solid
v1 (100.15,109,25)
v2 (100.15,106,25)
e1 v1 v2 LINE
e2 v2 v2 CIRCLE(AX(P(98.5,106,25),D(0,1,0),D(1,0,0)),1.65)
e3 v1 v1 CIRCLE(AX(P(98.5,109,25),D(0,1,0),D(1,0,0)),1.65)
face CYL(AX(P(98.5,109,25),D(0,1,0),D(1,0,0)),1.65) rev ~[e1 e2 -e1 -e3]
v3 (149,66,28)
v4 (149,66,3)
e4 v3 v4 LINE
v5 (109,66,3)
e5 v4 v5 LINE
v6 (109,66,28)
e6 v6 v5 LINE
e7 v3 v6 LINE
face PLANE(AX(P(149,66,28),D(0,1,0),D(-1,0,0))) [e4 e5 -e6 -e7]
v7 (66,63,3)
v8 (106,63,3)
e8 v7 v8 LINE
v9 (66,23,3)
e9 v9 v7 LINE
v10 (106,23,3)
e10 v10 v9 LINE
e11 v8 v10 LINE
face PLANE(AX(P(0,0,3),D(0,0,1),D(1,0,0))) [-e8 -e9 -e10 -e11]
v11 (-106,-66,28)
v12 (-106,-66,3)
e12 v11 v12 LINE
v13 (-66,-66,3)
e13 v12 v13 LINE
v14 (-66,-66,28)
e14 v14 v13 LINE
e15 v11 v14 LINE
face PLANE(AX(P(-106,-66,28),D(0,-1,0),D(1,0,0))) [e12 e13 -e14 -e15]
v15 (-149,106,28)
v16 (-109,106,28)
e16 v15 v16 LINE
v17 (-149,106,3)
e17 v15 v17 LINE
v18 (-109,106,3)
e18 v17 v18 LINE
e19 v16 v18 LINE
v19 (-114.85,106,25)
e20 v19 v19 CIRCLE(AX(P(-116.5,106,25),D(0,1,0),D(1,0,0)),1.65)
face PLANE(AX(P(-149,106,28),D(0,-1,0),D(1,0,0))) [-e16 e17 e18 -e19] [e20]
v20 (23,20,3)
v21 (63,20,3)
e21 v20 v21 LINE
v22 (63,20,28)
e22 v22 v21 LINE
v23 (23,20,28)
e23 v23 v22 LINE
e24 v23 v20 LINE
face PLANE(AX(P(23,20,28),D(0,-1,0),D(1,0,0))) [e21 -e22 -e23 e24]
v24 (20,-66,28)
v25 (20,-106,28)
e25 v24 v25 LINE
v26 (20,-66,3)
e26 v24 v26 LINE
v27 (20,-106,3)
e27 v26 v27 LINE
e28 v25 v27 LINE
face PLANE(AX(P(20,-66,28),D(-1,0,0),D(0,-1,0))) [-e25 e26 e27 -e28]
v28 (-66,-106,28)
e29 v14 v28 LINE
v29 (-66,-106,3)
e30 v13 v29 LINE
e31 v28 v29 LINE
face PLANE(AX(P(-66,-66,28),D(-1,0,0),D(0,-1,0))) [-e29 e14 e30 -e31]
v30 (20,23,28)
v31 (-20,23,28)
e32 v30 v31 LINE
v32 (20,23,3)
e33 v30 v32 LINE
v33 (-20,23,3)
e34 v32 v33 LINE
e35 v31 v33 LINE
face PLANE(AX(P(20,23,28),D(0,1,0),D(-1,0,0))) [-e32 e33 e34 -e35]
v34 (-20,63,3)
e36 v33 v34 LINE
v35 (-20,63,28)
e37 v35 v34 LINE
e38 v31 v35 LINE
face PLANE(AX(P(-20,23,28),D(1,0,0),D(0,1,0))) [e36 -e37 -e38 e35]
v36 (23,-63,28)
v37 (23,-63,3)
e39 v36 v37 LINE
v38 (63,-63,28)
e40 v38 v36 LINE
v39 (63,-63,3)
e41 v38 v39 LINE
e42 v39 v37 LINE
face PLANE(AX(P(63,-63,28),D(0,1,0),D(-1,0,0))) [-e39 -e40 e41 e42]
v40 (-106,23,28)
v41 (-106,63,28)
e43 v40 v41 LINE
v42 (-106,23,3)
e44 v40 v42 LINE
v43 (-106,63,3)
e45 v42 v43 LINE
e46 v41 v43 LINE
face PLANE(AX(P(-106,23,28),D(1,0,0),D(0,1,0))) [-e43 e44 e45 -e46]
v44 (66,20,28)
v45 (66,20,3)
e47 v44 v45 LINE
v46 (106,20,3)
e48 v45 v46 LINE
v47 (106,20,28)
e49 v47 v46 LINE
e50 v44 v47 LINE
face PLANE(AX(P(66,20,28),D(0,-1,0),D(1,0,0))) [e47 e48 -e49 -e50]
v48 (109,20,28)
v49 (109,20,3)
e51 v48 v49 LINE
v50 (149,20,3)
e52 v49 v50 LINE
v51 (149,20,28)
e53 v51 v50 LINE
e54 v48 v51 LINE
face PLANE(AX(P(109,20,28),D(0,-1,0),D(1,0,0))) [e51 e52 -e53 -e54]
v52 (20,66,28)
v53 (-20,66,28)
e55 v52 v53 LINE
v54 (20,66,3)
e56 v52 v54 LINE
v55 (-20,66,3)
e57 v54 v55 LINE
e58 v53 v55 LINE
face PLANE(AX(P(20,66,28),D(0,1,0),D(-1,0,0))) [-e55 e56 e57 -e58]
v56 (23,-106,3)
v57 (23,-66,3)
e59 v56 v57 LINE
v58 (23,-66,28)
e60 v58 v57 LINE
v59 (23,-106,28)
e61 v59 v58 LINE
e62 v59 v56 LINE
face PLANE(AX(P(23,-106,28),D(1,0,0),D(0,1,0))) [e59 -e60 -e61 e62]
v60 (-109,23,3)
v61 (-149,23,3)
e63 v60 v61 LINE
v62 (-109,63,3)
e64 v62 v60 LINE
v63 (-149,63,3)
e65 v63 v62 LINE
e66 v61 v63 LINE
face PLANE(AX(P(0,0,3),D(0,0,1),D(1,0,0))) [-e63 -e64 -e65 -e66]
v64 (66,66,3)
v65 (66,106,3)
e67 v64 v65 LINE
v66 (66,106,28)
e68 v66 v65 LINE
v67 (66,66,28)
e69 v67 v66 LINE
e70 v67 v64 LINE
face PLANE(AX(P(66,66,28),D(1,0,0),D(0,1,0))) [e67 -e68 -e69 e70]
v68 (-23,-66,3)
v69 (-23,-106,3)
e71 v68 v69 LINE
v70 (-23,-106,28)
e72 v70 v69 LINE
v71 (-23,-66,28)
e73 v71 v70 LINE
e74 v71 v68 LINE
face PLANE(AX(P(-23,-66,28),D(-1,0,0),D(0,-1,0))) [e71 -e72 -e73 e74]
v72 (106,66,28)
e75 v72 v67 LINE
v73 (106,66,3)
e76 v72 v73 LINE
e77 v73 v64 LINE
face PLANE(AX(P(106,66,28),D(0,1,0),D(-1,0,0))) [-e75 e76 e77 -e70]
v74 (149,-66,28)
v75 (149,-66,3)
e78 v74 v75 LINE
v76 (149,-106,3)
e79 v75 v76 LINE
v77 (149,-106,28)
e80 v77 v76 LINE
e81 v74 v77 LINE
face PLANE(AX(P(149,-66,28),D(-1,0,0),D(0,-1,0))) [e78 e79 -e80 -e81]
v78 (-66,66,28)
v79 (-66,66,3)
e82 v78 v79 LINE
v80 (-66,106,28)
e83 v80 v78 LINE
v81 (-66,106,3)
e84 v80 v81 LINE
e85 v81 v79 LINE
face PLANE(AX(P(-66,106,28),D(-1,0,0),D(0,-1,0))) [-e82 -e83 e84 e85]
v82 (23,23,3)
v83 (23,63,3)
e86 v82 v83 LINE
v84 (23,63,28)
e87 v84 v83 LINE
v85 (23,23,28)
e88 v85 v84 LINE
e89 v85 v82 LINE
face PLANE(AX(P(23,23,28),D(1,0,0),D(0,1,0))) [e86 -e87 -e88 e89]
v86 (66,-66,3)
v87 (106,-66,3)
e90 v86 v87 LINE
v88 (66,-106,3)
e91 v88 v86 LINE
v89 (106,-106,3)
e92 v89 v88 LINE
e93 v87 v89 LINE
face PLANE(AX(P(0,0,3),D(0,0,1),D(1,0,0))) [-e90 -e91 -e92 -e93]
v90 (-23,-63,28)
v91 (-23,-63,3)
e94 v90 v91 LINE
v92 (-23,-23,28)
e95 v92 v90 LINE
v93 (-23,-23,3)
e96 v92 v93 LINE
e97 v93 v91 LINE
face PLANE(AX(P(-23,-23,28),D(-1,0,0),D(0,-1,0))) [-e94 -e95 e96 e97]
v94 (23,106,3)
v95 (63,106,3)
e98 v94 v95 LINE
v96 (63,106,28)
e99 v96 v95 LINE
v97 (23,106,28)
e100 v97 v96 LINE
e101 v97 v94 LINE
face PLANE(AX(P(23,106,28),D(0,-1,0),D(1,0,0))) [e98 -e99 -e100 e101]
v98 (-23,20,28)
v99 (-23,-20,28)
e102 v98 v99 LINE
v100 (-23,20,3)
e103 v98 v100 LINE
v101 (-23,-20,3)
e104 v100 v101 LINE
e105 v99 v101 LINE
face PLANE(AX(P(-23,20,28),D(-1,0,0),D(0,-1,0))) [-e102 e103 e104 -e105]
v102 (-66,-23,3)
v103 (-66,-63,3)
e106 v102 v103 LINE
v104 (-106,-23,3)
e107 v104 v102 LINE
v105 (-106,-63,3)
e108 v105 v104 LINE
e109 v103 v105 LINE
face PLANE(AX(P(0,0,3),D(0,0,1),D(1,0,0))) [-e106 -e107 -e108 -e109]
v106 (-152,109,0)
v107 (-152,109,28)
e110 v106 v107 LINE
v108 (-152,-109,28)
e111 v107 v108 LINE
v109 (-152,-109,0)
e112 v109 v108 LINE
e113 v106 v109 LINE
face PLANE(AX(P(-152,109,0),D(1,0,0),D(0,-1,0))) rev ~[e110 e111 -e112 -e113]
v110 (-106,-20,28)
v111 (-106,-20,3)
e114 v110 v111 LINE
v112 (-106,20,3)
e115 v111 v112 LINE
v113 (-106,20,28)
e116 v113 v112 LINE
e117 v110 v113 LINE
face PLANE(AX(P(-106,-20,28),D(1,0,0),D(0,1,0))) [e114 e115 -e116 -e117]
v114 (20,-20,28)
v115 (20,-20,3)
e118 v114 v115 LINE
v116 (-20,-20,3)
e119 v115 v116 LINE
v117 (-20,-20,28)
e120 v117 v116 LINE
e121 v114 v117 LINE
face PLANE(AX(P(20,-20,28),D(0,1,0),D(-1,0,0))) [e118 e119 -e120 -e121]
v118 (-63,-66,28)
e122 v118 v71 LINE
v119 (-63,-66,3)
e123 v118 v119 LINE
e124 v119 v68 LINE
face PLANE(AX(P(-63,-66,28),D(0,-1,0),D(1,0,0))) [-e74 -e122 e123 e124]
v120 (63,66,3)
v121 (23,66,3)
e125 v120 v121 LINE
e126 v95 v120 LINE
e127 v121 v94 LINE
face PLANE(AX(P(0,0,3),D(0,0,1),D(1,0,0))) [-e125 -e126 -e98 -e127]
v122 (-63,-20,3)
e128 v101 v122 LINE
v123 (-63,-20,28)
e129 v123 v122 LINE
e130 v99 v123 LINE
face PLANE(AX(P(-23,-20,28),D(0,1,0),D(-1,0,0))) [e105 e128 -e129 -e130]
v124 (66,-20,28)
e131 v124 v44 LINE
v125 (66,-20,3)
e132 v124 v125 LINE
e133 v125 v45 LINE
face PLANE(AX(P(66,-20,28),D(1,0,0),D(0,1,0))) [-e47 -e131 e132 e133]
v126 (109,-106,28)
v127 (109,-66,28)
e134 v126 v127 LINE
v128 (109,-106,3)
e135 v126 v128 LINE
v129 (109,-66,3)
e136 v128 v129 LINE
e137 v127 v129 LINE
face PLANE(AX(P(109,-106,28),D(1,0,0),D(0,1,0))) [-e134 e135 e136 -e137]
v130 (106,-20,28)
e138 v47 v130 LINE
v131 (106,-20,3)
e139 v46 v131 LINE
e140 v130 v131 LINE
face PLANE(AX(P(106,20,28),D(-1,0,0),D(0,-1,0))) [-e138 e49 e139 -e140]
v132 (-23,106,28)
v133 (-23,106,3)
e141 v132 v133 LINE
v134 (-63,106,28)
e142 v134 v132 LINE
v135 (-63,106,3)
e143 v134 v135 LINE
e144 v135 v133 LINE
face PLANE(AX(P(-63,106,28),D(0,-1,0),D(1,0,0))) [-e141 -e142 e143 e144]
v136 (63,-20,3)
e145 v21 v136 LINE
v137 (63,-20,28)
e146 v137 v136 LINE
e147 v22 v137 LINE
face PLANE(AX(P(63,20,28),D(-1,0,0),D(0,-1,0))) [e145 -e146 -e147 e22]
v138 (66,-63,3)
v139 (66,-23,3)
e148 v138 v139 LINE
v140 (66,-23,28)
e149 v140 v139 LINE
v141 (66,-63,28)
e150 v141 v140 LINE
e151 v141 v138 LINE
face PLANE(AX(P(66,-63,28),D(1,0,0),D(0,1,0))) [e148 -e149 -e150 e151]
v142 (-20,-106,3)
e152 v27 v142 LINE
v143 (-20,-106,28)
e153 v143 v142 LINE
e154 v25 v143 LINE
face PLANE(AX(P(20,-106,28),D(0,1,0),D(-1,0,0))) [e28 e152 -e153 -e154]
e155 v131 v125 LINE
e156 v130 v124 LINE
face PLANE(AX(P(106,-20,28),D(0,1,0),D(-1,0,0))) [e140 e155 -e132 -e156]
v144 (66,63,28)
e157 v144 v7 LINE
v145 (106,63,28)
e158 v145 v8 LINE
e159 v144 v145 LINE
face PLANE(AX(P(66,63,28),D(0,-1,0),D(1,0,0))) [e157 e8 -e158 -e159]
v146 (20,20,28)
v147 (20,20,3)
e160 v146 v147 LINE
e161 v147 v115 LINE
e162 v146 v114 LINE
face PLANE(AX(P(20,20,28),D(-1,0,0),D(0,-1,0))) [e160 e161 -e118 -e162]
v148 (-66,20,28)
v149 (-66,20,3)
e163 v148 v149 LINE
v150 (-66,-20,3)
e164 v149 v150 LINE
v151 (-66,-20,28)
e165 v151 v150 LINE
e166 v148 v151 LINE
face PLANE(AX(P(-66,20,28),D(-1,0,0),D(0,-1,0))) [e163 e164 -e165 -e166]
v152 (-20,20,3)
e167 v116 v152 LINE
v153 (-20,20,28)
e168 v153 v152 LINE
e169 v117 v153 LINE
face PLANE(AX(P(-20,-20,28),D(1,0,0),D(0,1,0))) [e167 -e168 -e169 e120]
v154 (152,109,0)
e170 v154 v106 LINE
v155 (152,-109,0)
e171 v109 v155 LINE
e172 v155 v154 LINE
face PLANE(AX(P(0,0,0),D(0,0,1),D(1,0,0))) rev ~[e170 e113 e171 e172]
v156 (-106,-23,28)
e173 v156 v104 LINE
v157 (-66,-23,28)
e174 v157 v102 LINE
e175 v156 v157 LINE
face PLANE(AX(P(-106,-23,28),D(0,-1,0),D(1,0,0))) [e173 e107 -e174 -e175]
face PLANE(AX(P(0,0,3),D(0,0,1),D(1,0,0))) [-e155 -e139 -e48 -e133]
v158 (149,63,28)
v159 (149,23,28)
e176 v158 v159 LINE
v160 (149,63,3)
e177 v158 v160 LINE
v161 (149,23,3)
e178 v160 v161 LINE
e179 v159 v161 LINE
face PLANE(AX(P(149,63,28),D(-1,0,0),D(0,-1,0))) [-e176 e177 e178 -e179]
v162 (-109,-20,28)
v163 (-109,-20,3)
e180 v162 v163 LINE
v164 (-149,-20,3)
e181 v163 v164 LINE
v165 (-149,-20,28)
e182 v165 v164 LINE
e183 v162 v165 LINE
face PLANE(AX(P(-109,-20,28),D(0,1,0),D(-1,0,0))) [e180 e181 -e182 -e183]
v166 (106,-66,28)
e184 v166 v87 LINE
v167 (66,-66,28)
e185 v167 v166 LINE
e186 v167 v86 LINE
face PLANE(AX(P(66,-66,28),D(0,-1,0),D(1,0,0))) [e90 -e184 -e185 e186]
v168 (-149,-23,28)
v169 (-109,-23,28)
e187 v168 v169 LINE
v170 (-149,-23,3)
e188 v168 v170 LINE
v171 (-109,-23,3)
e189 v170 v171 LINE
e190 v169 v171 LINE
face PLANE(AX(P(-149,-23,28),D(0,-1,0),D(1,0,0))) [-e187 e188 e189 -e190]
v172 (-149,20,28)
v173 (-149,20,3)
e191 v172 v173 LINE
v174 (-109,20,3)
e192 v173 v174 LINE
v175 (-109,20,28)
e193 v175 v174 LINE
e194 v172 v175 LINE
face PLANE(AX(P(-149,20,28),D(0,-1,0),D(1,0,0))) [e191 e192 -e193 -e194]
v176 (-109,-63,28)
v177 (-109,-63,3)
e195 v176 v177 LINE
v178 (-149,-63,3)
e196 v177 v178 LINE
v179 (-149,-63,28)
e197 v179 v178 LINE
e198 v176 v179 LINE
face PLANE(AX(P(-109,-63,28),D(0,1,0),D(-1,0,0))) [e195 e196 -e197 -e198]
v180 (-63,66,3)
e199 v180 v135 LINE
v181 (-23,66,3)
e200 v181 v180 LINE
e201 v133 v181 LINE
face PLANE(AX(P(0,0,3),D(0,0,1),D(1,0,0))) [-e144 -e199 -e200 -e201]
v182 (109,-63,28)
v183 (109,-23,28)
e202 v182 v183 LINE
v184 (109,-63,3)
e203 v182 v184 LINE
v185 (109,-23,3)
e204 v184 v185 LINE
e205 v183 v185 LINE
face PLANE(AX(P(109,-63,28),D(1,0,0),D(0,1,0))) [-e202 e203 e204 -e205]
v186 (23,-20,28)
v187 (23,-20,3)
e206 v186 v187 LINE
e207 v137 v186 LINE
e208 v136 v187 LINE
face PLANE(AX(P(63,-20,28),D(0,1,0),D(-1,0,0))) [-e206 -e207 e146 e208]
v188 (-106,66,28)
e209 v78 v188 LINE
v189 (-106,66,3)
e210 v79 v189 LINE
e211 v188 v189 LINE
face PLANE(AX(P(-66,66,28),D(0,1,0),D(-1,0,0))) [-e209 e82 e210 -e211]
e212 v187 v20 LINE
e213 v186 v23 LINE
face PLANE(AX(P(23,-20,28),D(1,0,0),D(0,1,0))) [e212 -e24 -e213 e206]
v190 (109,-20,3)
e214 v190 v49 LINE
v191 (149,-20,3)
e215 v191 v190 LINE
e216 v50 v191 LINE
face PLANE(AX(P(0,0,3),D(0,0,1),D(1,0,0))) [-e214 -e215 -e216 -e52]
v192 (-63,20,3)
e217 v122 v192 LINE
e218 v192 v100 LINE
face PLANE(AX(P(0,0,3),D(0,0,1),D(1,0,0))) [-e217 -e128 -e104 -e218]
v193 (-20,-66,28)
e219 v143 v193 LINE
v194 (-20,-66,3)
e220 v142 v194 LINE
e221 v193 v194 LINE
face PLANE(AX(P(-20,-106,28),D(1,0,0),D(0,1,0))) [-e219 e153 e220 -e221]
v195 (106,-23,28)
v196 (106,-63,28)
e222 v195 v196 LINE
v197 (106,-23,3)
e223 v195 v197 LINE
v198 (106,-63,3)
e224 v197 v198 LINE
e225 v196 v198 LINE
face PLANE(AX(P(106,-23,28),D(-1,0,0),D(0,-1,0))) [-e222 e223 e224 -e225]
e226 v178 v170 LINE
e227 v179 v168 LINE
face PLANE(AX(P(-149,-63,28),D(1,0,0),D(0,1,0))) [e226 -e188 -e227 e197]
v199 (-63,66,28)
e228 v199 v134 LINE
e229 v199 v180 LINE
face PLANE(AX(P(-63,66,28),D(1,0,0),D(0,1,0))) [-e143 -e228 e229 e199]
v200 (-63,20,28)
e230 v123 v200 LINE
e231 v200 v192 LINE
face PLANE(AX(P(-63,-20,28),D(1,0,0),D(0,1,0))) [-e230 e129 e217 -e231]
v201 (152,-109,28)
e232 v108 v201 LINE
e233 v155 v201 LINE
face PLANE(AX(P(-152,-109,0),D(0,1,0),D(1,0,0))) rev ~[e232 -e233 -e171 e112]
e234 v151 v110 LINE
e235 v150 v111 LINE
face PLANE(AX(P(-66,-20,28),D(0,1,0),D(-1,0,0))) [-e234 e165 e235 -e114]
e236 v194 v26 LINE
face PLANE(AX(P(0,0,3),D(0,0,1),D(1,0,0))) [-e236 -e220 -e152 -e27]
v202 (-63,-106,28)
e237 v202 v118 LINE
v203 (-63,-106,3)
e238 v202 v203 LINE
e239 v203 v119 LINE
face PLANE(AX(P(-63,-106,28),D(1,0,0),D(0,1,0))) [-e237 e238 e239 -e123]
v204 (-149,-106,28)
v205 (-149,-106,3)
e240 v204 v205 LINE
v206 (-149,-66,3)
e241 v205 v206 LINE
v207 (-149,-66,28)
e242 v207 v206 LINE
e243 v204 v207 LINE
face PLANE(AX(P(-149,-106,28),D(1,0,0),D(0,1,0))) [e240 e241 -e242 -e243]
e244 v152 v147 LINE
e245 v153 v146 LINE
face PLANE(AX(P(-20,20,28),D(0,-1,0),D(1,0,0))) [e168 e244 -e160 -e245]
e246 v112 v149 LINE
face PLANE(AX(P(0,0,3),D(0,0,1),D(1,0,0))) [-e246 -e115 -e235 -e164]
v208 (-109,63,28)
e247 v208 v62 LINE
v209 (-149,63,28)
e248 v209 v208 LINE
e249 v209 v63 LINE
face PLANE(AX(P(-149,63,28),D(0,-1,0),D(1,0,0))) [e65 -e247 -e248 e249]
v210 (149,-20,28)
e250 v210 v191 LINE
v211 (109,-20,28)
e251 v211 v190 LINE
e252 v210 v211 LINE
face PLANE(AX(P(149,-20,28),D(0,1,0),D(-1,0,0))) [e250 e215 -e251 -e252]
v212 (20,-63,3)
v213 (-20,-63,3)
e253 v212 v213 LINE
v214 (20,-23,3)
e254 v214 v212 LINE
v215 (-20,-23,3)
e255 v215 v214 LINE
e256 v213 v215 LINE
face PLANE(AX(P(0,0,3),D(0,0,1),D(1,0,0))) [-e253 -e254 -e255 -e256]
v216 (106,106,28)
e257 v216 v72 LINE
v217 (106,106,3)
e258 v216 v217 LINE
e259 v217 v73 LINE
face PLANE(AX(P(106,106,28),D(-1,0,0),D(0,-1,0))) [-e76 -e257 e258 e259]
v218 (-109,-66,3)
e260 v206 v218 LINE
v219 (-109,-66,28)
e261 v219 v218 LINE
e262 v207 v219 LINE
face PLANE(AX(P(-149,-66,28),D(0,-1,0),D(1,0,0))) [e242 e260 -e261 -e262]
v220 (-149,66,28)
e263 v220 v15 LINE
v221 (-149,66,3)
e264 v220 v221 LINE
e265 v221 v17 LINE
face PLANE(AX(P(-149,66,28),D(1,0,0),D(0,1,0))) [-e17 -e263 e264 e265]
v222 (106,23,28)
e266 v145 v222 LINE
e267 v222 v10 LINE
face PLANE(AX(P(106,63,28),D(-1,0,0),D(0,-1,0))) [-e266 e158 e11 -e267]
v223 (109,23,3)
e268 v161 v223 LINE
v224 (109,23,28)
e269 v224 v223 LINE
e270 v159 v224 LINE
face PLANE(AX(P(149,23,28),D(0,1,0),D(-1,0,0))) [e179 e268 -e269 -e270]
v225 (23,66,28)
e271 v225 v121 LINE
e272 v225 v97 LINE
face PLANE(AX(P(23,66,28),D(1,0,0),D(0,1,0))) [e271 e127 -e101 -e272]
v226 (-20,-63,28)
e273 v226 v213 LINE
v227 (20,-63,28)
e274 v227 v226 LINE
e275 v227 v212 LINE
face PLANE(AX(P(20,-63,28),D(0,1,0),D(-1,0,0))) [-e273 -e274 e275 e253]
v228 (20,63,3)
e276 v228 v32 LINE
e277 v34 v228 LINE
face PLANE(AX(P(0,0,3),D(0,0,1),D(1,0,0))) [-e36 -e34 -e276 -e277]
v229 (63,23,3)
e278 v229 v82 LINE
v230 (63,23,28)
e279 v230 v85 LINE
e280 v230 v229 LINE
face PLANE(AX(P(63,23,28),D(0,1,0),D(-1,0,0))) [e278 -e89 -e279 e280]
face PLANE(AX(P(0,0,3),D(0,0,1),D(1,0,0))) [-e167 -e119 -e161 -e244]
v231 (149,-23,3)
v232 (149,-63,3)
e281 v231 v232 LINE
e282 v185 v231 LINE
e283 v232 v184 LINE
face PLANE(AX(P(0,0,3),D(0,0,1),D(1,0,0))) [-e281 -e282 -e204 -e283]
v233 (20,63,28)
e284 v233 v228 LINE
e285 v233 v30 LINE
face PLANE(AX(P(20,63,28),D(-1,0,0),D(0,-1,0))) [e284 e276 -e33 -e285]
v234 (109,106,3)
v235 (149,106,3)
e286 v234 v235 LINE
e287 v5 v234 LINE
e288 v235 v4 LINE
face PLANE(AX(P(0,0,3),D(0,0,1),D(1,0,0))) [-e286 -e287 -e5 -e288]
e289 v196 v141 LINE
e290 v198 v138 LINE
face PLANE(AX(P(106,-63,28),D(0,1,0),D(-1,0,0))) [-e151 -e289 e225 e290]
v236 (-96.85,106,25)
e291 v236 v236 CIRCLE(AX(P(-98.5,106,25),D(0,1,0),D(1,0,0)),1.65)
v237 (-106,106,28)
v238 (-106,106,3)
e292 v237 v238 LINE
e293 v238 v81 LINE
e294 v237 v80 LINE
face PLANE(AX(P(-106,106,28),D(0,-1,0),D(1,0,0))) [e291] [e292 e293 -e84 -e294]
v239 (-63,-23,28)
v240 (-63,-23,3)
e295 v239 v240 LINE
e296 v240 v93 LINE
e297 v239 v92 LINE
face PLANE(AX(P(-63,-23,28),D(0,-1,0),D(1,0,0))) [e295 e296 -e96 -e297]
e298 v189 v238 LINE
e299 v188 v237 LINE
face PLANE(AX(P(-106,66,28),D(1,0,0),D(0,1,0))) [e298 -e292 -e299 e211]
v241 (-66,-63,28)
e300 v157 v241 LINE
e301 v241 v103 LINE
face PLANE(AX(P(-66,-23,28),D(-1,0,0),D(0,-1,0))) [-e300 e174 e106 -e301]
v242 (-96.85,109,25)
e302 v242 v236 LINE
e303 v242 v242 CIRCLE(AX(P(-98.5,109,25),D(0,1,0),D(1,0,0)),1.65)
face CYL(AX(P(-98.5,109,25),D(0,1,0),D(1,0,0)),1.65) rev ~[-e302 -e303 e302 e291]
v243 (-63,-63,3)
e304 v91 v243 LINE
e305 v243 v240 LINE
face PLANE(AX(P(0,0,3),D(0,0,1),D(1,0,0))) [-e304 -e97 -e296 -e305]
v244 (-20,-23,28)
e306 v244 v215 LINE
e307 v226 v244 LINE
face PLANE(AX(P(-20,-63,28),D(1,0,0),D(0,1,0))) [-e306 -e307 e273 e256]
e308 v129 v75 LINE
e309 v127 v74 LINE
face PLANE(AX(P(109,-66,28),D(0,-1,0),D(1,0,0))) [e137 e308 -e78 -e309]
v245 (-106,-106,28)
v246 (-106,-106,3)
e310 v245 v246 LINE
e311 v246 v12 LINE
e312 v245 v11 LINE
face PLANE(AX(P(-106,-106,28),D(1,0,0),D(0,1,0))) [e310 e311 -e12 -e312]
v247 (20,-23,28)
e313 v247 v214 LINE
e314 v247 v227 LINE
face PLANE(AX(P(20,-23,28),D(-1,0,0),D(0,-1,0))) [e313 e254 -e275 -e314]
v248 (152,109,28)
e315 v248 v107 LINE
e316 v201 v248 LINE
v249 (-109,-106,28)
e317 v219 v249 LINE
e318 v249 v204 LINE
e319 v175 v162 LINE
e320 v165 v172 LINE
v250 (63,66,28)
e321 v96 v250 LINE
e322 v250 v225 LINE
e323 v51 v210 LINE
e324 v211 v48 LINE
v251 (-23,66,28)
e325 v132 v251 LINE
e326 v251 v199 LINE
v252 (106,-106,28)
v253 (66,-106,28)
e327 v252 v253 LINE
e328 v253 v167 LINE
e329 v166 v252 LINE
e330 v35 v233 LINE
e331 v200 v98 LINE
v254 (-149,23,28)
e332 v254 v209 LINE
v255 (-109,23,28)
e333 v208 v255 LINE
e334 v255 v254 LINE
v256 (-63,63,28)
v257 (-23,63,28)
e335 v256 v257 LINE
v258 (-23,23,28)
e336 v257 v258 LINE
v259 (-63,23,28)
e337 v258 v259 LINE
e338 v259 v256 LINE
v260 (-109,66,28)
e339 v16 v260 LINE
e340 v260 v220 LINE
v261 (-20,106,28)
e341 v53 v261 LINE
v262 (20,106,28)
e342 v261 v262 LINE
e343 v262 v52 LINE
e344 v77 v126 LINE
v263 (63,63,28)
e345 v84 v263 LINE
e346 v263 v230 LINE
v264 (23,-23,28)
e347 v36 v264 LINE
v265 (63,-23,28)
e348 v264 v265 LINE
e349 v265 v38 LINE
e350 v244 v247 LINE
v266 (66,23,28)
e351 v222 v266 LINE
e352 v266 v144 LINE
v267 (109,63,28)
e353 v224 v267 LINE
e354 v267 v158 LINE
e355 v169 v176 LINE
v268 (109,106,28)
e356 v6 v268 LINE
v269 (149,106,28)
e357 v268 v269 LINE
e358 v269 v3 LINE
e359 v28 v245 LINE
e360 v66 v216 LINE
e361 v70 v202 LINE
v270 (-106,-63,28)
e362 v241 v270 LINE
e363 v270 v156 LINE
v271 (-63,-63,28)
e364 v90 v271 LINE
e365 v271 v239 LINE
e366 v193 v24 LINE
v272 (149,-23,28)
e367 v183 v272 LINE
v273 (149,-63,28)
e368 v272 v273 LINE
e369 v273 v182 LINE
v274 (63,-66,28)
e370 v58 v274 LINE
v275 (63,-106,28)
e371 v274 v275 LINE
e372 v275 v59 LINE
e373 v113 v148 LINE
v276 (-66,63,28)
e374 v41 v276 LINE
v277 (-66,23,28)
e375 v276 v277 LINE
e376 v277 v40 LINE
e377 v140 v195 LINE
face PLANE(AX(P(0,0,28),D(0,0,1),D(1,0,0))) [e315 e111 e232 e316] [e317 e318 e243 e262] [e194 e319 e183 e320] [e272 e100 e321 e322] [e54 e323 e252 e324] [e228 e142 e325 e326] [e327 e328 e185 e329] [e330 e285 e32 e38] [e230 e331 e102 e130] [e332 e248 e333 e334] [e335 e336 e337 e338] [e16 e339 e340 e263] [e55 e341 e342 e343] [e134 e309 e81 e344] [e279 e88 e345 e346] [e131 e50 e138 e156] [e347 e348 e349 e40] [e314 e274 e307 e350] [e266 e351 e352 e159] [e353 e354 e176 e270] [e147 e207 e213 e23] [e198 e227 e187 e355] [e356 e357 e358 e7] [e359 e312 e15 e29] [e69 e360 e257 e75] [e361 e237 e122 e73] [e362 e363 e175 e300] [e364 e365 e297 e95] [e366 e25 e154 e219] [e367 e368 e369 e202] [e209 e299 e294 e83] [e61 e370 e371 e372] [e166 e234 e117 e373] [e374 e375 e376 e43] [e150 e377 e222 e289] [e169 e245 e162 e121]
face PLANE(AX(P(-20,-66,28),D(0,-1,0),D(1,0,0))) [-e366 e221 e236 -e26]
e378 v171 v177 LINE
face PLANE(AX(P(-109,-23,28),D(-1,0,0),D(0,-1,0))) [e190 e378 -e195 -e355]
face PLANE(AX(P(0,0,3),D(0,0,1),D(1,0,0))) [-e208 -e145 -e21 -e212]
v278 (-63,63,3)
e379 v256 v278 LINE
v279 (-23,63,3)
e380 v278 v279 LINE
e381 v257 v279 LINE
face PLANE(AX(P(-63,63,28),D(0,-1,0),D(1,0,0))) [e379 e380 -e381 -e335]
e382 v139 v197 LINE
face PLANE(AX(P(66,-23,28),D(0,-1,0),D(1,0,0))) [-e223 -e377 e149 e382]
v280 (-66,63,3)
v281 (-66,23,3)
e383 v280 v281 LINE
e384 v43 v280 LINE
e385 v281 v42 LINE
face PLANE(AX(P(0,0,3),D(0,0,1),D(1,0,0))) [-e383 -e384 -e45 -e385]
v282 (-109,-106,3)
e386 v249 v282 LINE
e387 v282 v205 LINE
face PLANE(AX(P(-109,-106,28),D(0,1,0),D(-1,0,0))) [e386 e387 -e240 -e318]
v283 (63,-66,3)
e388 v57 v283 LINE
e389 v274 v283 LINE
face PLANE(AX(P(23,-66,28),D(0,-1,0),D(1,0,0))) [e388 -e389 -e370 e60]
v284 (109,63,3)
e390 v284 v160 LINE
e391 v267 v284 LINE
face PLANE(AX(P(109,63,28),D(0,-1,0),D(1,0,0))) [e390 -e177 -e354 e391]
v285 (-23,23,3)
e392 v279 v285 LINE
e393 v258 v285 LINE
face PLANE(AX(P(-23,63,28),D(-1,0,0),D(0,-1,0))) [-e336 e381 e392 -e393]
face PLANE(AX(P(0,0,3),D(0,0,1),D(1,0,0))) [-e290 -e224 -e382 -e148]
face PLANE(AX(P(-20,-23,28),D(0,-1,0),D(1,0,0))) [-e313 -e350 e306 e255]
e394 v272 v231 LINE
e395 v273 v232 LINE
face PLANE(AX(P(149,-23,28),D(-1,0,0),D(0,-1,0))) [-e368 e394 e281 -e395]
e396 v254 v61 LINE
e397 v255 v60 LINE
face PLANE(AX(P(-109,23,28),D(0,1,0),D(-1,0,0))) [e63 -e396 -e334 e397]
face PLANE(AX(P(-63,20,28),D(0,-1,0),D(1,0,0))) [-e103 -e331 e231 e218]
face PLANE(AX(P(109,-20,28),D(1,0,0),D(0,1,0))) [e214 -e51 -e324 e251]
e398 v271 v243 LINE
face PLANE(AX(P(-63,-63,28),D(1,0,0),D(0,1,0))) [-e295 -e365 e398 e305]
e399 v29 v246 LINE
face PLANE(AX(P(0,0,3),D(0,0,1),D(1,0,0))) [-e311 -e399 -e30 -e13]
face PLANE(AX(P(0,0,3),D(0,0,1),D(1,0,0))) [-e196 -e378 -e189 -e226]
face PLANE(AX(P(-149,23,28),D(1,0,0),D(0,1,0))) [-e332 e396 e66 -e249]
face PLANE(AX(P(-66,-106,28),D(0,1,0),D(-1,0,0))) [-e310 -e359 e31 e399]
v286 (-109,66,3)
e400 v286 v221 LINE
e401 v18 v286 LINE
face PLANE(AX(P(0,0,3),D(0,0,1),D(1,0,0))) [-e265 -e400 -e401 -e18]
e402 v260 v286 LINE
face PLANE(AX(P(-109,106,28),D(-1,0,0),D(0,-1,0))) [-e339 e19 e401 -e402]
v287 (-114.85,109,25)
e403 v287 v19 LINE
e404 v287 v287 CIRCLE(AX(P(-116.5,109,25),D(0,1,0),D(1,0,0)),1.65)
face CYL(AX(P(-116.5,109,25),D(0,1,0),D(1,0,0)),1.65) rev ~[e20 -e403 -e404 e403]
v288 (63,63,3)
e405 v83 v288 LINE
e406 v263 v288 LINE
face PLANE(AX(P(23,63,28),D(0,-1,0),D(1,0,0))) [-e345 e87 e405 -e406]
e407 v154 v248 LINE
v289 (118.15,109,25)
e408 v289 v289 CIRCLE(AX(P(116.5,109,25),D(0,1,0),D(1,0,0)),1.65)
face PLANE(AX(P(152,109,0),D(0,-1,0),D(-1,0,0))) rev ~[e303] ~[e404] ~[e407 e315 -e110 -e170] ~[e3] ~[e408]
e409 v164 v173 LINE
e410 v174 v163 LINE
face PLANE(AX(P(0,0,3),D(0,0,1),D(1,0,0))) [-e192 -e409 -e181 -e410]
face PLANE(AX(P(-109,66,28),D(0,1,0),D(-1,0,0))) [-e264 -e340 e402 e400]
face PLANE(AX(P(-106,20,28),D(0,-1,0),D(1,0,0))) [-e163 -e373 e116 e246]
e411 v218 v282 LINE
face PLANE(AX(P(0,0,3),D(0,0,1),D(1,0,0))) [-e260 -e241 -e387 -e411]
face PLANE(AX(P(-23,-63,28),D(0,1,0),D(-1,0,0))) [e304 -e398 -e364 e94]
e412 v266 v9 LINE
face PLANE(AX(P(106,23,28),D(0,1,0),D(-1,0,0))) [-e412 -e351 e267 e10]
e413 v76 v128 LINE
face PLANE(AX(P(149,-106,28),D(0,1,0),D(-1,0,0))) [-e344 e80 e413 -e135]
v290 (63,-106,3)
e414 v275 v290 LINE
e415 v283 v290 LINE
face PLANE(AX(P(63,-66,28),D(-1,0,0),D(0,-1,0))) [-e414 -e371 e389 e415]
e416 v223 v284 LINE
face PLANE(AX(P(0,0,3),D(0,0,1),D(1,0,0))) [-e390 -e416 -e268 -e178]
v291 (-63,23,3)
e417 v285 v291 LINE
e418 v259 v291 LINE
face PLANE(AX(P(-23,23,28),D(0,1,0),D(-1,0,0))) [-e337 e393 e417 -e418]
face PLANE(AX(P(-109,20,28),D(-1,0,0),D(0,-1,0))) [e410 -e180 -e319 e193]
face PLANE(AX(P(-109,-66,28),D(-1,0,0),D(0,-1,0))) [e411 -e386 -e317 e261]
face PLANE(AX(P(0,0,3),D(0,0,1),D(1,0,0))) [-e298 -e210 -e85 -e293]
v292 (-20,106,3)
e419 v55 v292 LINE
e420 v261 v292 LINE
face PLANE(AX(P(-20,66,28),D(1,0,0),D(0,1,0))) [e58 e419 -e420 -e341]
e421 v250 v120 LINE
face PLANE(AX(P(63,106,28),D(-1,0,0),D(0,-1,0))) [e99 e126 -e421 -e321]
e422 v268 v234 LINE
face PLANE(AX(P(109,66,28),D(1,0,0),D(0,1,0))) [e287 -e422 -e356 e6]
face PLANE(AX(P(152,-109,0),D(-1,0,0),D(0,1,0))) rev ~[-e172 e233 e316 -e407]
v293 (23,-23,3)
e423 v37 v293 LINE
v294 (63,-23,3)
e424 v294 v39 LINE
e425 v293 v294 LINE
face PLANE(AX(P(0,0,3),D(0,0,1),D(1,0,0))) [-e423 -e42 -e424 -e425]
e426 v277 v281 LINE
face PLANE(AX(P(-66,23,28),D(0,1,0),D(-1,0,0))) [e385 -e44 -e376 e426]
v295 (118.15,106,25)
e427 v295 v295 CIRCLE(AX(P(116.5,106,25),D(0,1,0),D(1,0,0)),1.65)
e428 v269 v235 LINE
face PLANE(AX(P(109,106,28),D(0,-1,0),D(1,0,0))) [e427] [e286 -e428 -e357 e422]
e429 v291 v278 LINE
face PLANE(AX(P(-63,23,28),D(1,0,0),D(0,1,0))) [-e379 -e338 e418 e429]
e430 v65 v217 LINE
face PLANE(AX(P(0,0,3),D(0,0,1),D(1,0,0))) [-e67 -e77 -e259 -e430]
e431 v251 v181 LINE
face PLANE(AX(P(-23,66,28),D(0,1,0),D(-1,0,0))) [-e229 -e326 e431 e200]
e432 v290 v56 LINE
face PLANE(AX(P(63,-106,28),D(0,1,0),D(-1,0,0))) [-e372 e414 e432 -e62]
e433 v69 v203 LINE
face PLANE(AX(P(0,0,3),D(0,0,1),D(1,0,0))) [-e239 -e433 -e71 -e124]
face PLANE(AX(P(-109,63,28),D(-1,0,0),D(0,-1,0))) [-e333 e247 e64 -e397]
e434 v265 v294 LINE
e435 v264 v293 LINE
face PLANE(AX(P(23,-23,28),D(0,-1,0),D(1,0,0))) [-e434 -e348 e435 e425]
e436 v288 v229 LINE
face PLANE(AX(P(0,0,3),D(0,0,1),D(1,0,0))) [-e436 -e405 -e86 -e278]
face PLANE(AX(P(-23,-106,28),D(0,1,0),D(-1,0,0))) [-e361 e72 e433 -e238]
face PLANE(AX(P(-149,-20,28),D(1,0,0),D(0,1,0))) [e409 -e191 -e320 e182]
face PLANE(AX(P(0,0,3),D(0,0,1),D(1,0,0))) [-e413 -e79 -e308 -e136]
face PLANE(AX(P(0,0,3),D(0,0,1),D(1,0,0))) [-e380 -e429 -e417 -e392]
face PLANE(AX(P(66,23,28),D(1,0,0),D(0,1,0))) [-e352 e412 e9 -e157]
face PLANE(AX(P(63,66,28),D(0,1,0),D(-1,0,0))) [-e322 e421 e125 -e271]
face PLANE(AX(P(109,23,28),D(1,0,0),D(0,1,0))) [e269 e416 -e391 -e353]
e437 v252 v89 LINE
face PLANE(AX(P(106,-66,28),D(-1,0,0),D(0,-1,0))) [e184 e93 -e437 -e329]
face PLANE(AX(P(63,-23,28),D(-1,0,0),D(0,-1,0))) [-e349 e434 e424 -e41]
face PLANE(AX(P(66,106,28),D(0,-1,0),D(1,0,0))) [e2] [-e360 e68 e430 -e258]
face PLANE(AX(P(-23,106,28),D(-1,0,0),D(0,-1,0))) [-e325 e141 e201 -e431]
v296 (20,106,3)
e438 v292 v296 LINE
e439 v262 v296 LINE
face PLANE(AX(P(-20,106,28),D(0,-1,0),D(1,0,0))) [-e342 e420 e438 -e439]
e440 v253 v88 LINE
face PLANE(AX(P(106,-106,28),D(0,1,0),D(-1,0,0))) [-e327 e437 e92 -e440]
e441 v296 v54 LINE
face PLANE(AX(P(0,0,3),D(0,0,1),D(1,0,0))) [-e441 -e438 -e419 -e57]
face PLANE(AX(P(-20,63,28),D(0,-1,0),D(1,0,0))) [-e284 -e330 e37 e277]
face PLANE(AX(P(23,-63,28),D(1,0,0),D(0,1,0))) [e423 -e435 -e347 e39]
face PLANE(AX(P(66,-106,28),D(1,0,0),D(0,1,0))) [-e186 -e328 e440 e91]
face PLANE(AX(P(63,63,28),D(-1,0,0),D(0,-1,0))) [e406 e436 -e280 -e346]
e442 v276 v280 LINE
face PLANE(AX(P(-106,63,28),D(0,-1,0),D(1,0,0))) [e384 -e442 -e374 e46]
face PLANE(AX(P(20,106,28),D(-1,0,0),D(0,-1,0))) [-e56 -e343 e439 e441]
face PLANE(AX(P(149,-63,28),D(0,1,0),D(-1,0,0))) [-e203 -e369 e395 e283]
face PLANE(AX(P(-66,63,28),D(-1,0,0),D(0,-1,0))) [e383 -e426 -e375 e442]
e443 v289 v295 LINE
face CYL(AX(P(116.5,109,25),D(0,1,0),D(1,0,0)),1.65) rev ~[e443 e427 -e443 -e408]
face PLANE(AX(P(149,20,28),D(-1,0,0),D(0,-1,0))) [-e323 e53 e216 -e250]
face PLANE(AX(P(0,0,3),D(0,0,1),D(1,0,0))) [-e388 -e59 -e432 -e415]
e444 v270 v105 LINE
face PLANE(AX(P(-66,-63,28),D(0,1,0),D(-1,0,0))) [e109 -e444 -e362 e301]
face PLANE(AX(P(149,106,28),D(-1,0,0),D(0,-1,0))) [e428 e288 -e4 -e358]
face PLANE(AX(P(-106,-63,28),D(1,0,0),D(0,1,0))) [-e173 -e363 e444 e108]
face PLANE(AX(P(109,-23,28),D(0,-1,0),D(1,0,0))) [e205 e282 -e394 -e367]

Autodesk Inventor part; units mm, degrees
ref_plane "YZ Plane" through (0, 0, 0) normal (1, 0, 0) x (0, 1, 0)
ref_plane "XZ Plane" through (0, 0, 0) normal (0, 1, 0) x (-1, 0, 0)
ref_plane "XY Plane" through (0, 0, 0) normal (0, 0, 1) x (1, 0, 0)
sketch "Sketch1" plane through (0, 0, 0) normal (0, 0, 1) x (1, 0, 0)
  line L0 (-152, -109) -> (152, -109)
  line L1 (152, -109) -> (152, 109)
  line L2 (152, 109) -> (-152, 109)
  line L3 (-152, 109) -> (-152, -109)
  line L4 (-152, -109) -> (152, 109) construction
  line L5 (152, -109) -> (-152, 109) construction
  point P0 (0, 0)
  dimension "d0" = 304
  dimension "d1" = 218
extrude "Extrusion1" add sketch "Sketch1" along normal blind 28
sketch "Sketch2" plane through (0, 0, 28) normal (0, 0, 1) x (1, 0, 0)
  line L0 (-149, 106) -> (-109, 106)
  line L1 (-109, 106) -> (-109, 66)
  line L2 (-109, 66) -> (-149, 66)
  line L3 (-149, 66) -> (-149, 106)
  line L4 (-149, 106) -> (-109, 66) construction
  line L5 (-109, 106) -> (-149, 66) construction
  line L6 (152, 109) -> (-152, 109) projected
  line L7 (-152, 109) -> (-152, -109) projected
  line L8 (-106, 106) -> (-66, 106)
  line L9 (-66, 106) -> (-66, 66)
  line L10 (-66, 66) -> (-106, 66)
  line L11 (-106, 66) -> (-106, 106)
  line L12 (-106, 106) -> (-66, 66) construction
  line L13 (-66, 106) -> (-106, 66) construction
  line L14 (-63, 106) -> (-23, 106)
  line L15 (-23, 106) -> (-23, 66)
  line L16 (-23, 66) -> (-63, 66)
  line L17 (-63, 66) -> (-63, 106)
  line L18 (-63, 106) -> (-23, 66) construction
  line L19 (-23, 106) -> (-63, 66) construction
  line L20 (-20, 106) -> (20, 106)
  line L21 (20, 106) -> (20, 66)
  line L22 (20, 66) -> (-20, 66)
  line L23 (-20, 66) -> (-20, 106)
  line L24 (-20, 106) -> (20, 66) construction
  line L25 (20, 106) -> (-20, 66) construction
  line L26 (23, 106) -> (63, 106)
  line L27 (63, 106) -> (63, 66)
  line L28 (63, 66) -> (23, 66)
  line L29 (23, 66) -> (23, 106)
  line L30 (23, 106) -> (63, 66) construction
  line L31 (63, 106) -> (23, 66) construction
  line L32 (-149, 63) -> (-109, 63)
  line L33 (-109, 63) -> (-109, 23)
  line L34 (-109, 23) -> (-149, 23)
  line L35 (-149, 23) -> (-149, 63)
  line L36 (-149, 63) -> (-109, 23) construction
  line L37 (-109, 63) -> (-149, 23) construction
  line L38 (-106, 63) -> (-66, 63)
  line L39 (-66, 63) -> (-66, 23)
  line L40 (-66, 23) -> (-106, 23)
  line L41 (-106, 23) -> (-106, 63)
  line L42 (-106, 63) -> (-66, 23) construction
  line L43 (-66, 63) -> (-106, 23) construction
  line L44 (-63, 63) -> (-23, 63)
  line L45 (-23, 63) -> (-23, 23)
  line L46 (-23, 23) -> (-63, 23)
  line L47 (-63, 23) -> (-63, 63)
  line L48 (-63, 63) -> (-23, 23) construction
  line L49 (-23, 63) -> (-63, 23) construction
  line L50 (-20, 63) -> (20, 63)
  line L51 (20, 63) -> (20, 23)
  line L52 (20, 23) -> (-20, 23)
  line L53 (-20, 23) -> (-20, 63)
  line L54 (-20, 63) -> (20, 23) construction
  line L55 (20, 63) -> (-20, 23) construction
  line L56 (23, 63) -> (63, 63)
  line L57 (63, 63) -> (63, 23)
  line L58 (63, 23) -> (23, 23)
  line L59 (23, 23) -> (23, 63)
  line L60 (23, 63) -> (63, 23) construction
  line L61 (63, 63) -> (23, 23) construction
  line L62 (-149, 20) -> (-109, 20)
  line L63 (-109, 20) -> (-109, -20)
  line L64 (-109, -20) -> (-149, -20)
  line L65 (-149, -20) -> (-149, 20)
  line L66 (-149, 20) -> (-109, -20) construction
  line L67 (-109, 20) -> (-149, -20) construction
  line L68 (-106, 20) -> (-66, 20)
  line L69 (-66, 20) -> (-66, -20)
  line L70 (-66, -20) -> (-106, -20)
  line L71 (-106, -20) -> (-106, 20)
  line L72 (-106, 20) -> (-66, -20) construction
  line L73 (-66, 20) -> (-106, -20) construction
  line L74 (-63, 20) -> (-23, 20)
  line L75 (-23, 20) -> (-23, -20)
  line L76 (-23, -20) -> (-63, -20)
  line L77 (-63, -20) -> (-63, 20)
  line L78 (-63, 20) -> (-23, -20) construction
  line L79 (-23, 20) -> (-63, -20) construction
  line L80 (-20, 20) -> (20, 20)
  line L81 (20, 20) -> (20, -20)
  line L82 (20, -20) -> (-20, -20)
  line L83 (-20, -20) -> (-20, 20)
  line L84 (-20, 20) -> (20, -20) construction
  line L85 (20, 20) -> (-20, -20) construction
  line L86 (23, 20) -> (63, 20)
  line L87 (63, 20) -> (63, -20)
  line L88 (63, -20) -> (23, -20)
  line L89 (23, -20) -> (23, 20)
  line L90 (23, 20) -> (63, -20) construction
  line L91 (63, 20) -> (23, -20) construction
  line L92 (-149, -23) -> (-109, -23)
  line L93 (-109, -23) -> (-109, -63)
  line L94 (-109, -63) -> (-149, -63)
  line L95 (-149, -63) -> (-149, -23)
  line L96 (-149, -23) -> (-109, -63) construction
  line L97 (-109, -23) -> (-149, -63) construction
  line L98 (-106, -23) -> (-66, -23)
  line L99 (-66, -23) -> (-66, -63)
  line L100 (-66, -63) -> (-106, -63)
  line L101 (-106, -63) -> (-106, -23)
  line L102 (-106, -23) -> (-66, -63) construction
  line L103 (-66, -23) -> (-106, -63) construction
  line L104 (-63, -23) -> (-23, -23)
  line L105 (-23, -23) -> (-23, -63)
  line L106 (-23, -63) -> (-63, -63)
  line L107 (-63, -63) -> (-63, -23)
  line L108 (-63, -23) -> (-23, -63) construction
  line L109 (-23, -23) -> (-63, -63) construction
  line L110 (-20, -23) -> (20, -23)
  line L111 (20, -23) -> (20, -63)
  line L112 (20, -63) -> (-20, -63)
  line L113 (-20, -63) -> (-20, -23)
  line L114 (-20, -23) -> (20, -63) construction
  line L115 (20, -23) -> (-20, -63) construction
  line L116 (23, -23) -> (63, -23)
  line L117 (63, -23) -> (63, -63)
  line L118 (63, -63) -> (23, -63)
  line L119 (23, -63) -> (23, -23)
  line L120 (23, -23) -> (63, -63) construction
  line L121 (63, -23) -> (23, -63) construction
  line L122 (66, 106) -> (106, 106)
  line L123 (106, 106) -> (106, 66)
  line L124 (106, 66) -> (66, 66)
  line L125 (66, 66) -> (66, 106)
  line L126 (66, 106) -> (106, 66) construction
  line L127 (106, 106) -> (66, 66) construction
  line L128 (66, 63) -> (106, 63)
  line L129 (106, 63) -> (106, 23)
  line L130 (106, 23) -> (66, 23)
  line L131 (66, 23) -> (66, 63)
  line L132 (66, 63) -> (106, 23) construction
  line L133 (106, 63) -> (66, 23) construction
  line L134 (66, 20) -> (106, 20)
  line L135 (106, 20) -> (106, -20)
  line L136 (106, -20) -> (66, -20)
  line L137 (66, -20) -> (66, 20)
  line L138 (66, 20) -> (106, -20) construction
  line L139 (106, 20) -> (66, -20) construction
  line L140 (66, -23) -> (106, -23)
  line L141 (106, -23) -> (106, -63)
  line L142 (106, -63) -> (66, -63)
  line L143 (66, -63) -> (66, -23)
  line L144 (66, -23) -> (106, -63) construction
  line L145 (106, -23) -> (66, -63) construction
  line L146 (109, 106) -> (149, 106)
  line L147 (149, 106) -> (149, 66)
  line L148 (149, 66) -> (109, 66)
  line L149 (109, 66) -> (109, 106)
  line L150 (109, 106) -> (149, 66) construction
  line L151 (149, 106) -> (109, 66) construction
  line L152 (109, 63) -> (149, 63)
  line L153 (149, 63) -> (149, 23)
  line L154 (149, 23) -> (109, 23)
  line L155 (109, 23) -> (109, 63)
  line L156 (109, 63) -> (149, 23) construction
  line L157 (149, 63) -> (109, 23) construction
  line L158 (109, 20) -> (149, 20)
  line L159 (149, 20) -> (149, -20)
  line L160 (149, -20) -> (109, -20)
  line L161 (109, -20) -> (109, 20)
  line L162 (109, 20) -> (149, -20) construction
  line L163 (149, 20) -> (109, -20) construction
  line L164 (109, -23) -> (149, -23)
  line L165 (149, -23) -> (149, -63)
  line L166 (149, -63) -> (109, -63)
  line L167 (109, -63) -> (109, -23)
  line L168 (109, -23) -> (149, -63) construction
  line L169 (149, -23) -> (109, -63) construction
  line L170 (-149, -66) -> (-109, -66)
  line L171 (-109, -66) -> (-109, -106)
  line L172 (-109, -106) -> (-149, -106)
  line L173 (-149, -106) -> (-149, -66)
  line L174 (-149, -66) -> (-109, -106) construction
  line L175 (-109, -66) -> (-149, -106) construction
  line L176 (-106, -66) -> (-66, -66)
  line L177 (-66, -66) -> (-66, -106)
  line L178 (-66, -106) -> (-106, -106)
  line L179 (-106, -106) -> (-106, -66)
  line L180 (-106, -66) -> (-66, -106) construction
  line L181 (-66, -66) -> (-106, -106) construction
  line L182 (-63, -66) -> (-23, -66)
  line L183 (-23, -66) -> (-23, -106)
  line L184 (-23, -106) -> (-63, -106)
  line L185 (-63, -106) -> (-63, -66)
  line L186 (-63, -66) -> (-23, -106) construction
  line L187 (-23, -66) -> (-63, -106) construction
  line L188 (-20, -66) -> (20, -66)
  line L189 (20, -66) -> (20, -106)
  line L190 (20, -106) -> (-20, -106)
  line L191 (-20, -106) -> (-20, -66)
  line L192 (-20, -66) -> (20, -106) construction
  line L193 (20, -66) -> (-20, -106) construction
  line L194 (23, -66) -> (63, -66)
  line L195 (63, -66) -> (63, -106)
  line L196 (63, -106) -> (23, -106)
  line L197 (23, -106) -> (23, -66)
  line L198 (23, -66) -> (63, -106) construction
  line L199 (63, -66) -> (23, -106) construction
  line L200 (66, -66) -> (106, -66)
  line L201 (106, -66) -> (106, -106)
  line L202 (106, -106) -> (66, -106)
  line L203 (66, -106) -> (66, -66)
  line L204 (66, -66) -> (106, -106) construction
  line L205 (106, -66) -> (66, -106) construction
  line L206 (109, -66) -> (149, -66)
  line L207 (149, -66) -> (149, -106)
  line L208 (149, -106) -> (109, -106)
  line L209 (109, -106) -> (109, -66)
  line L210 (109, -66) -> (149, -106) construction
  line L211 (149, -66) -> (109, -106) construction
  point P0 (0, 0)
  point P1 (-129, 86)
  point P2 (-86, 86)
  point P3 (-43, 86)
  point P4 (0, 86)
  point P5 (43, 86)
  point P6 (-129, 43)
  point P7 (-86, 43)
  point P8 (-43, 43)
  point P9 (0, 43)
  point P10 (43, 43)
  point P11 (-129, 0)
  point P12 (-86, 0)
  point P13 (-43, 0)
  point P14 (0, 0)
  point P15 (43, 0)
  point P16 (-129, -43)
  point P17 (-86, -43)
  point P18 (-43, -43)
  point P19 (0, -43)
  point P20 (43, -43)
  point P21 (86, 86)
  point P22 (86, 43)
  point P23 (86, 0)
  point P24 (86, -43)
  point P25 (129, 86)
  point P26 (129, 43)
  point P27 (129, 0)
  point P28 (129, -43)
  point P29 (-129, -86)
  point P30 (-86, -86)
  point P31 (-43, -86)
  point P32 (0, -86)
  point P33 (43, -86)
  point P34 (86, -86)
  point P35 (129, -86)
  dimension "d4" = 40
  dimension "d5" = 3
  dimension "d6" = 3
  dimension "d7" = 40
  dimension "d10" = 43
  dimension "d13" = 43
extrude "Extrusion2" cut sketch "Sketch2" against normal blind 25
sketch "Sketch3" plane through (-152, 109, 0) normal (0, 1, 0) x (1, 0, 0)
  line L0 (46, -28) -> (46, -3) construction
  line L1 (43, -28) -> (43, -3) construction
  line L2 (43, -28) -> (43, -3) projected
  line L3 (43, -25) -> (46, -25) construction
  line L4 (46, -28) -> (46, -3) projected
  line L5 (304, -28) -> (0, -28) projected
  circle A0 centre (53.5, -25) radius 1.65
  circle A1 centre (35.5, -25) radius 1.65
  line L6 (172, -28) -> (172, -3) construction
  line L7 (175, -28) -> (175, -3) construction
  circle A2 centre (268.5, -25) radius 1.65
  circle A3 centre (250.5, -25) radius 1.65
  line L8 (304, 0) -> (304, -28) projected
  point P0 (152, 0)
  point P1 (44.5, -25)
  dimension "d20" = 3
  dimension "d21" = 3.3
  dimension "d22" = 9
  dimension "d23" = 3.3
  dimension "d24" = 9
  dimension "d25" = 3.3
  dimension "d31" = 3.3
  dimension "d35" = 18
  dimension "d36" = 35.5
extrude "Extrusion3" cut sketch "Sketch3" against normal blind 10
equation "\"d0\" = box_length"
equation "\"d1\" = box_width"
equation "\"d2\" = hole_height + wall"
equation "\"d4\" = hole"
equation "\"d5\" = wall"
equation "\"d6\" = wall"
equation "\"d7\" = hole"
equation "\"d10\" = hole + wall"
equation "\"d13\" = hole + wall"
equation "\"d16\" = hole_height"
equation "\"d23\" = d21"
equation "\"d24\" = d22"
equation "\"d25\" = d21"
equation "\"d31\" = d25"
equation "\"hole\" = 40"
equation "\"wall\" = 3"
equation "\"hole_height\" = 25"
equation "\"box_length\" = 304"
equation "\"box_width\" = 218"
properties part number "RatPelletBox_v04"
